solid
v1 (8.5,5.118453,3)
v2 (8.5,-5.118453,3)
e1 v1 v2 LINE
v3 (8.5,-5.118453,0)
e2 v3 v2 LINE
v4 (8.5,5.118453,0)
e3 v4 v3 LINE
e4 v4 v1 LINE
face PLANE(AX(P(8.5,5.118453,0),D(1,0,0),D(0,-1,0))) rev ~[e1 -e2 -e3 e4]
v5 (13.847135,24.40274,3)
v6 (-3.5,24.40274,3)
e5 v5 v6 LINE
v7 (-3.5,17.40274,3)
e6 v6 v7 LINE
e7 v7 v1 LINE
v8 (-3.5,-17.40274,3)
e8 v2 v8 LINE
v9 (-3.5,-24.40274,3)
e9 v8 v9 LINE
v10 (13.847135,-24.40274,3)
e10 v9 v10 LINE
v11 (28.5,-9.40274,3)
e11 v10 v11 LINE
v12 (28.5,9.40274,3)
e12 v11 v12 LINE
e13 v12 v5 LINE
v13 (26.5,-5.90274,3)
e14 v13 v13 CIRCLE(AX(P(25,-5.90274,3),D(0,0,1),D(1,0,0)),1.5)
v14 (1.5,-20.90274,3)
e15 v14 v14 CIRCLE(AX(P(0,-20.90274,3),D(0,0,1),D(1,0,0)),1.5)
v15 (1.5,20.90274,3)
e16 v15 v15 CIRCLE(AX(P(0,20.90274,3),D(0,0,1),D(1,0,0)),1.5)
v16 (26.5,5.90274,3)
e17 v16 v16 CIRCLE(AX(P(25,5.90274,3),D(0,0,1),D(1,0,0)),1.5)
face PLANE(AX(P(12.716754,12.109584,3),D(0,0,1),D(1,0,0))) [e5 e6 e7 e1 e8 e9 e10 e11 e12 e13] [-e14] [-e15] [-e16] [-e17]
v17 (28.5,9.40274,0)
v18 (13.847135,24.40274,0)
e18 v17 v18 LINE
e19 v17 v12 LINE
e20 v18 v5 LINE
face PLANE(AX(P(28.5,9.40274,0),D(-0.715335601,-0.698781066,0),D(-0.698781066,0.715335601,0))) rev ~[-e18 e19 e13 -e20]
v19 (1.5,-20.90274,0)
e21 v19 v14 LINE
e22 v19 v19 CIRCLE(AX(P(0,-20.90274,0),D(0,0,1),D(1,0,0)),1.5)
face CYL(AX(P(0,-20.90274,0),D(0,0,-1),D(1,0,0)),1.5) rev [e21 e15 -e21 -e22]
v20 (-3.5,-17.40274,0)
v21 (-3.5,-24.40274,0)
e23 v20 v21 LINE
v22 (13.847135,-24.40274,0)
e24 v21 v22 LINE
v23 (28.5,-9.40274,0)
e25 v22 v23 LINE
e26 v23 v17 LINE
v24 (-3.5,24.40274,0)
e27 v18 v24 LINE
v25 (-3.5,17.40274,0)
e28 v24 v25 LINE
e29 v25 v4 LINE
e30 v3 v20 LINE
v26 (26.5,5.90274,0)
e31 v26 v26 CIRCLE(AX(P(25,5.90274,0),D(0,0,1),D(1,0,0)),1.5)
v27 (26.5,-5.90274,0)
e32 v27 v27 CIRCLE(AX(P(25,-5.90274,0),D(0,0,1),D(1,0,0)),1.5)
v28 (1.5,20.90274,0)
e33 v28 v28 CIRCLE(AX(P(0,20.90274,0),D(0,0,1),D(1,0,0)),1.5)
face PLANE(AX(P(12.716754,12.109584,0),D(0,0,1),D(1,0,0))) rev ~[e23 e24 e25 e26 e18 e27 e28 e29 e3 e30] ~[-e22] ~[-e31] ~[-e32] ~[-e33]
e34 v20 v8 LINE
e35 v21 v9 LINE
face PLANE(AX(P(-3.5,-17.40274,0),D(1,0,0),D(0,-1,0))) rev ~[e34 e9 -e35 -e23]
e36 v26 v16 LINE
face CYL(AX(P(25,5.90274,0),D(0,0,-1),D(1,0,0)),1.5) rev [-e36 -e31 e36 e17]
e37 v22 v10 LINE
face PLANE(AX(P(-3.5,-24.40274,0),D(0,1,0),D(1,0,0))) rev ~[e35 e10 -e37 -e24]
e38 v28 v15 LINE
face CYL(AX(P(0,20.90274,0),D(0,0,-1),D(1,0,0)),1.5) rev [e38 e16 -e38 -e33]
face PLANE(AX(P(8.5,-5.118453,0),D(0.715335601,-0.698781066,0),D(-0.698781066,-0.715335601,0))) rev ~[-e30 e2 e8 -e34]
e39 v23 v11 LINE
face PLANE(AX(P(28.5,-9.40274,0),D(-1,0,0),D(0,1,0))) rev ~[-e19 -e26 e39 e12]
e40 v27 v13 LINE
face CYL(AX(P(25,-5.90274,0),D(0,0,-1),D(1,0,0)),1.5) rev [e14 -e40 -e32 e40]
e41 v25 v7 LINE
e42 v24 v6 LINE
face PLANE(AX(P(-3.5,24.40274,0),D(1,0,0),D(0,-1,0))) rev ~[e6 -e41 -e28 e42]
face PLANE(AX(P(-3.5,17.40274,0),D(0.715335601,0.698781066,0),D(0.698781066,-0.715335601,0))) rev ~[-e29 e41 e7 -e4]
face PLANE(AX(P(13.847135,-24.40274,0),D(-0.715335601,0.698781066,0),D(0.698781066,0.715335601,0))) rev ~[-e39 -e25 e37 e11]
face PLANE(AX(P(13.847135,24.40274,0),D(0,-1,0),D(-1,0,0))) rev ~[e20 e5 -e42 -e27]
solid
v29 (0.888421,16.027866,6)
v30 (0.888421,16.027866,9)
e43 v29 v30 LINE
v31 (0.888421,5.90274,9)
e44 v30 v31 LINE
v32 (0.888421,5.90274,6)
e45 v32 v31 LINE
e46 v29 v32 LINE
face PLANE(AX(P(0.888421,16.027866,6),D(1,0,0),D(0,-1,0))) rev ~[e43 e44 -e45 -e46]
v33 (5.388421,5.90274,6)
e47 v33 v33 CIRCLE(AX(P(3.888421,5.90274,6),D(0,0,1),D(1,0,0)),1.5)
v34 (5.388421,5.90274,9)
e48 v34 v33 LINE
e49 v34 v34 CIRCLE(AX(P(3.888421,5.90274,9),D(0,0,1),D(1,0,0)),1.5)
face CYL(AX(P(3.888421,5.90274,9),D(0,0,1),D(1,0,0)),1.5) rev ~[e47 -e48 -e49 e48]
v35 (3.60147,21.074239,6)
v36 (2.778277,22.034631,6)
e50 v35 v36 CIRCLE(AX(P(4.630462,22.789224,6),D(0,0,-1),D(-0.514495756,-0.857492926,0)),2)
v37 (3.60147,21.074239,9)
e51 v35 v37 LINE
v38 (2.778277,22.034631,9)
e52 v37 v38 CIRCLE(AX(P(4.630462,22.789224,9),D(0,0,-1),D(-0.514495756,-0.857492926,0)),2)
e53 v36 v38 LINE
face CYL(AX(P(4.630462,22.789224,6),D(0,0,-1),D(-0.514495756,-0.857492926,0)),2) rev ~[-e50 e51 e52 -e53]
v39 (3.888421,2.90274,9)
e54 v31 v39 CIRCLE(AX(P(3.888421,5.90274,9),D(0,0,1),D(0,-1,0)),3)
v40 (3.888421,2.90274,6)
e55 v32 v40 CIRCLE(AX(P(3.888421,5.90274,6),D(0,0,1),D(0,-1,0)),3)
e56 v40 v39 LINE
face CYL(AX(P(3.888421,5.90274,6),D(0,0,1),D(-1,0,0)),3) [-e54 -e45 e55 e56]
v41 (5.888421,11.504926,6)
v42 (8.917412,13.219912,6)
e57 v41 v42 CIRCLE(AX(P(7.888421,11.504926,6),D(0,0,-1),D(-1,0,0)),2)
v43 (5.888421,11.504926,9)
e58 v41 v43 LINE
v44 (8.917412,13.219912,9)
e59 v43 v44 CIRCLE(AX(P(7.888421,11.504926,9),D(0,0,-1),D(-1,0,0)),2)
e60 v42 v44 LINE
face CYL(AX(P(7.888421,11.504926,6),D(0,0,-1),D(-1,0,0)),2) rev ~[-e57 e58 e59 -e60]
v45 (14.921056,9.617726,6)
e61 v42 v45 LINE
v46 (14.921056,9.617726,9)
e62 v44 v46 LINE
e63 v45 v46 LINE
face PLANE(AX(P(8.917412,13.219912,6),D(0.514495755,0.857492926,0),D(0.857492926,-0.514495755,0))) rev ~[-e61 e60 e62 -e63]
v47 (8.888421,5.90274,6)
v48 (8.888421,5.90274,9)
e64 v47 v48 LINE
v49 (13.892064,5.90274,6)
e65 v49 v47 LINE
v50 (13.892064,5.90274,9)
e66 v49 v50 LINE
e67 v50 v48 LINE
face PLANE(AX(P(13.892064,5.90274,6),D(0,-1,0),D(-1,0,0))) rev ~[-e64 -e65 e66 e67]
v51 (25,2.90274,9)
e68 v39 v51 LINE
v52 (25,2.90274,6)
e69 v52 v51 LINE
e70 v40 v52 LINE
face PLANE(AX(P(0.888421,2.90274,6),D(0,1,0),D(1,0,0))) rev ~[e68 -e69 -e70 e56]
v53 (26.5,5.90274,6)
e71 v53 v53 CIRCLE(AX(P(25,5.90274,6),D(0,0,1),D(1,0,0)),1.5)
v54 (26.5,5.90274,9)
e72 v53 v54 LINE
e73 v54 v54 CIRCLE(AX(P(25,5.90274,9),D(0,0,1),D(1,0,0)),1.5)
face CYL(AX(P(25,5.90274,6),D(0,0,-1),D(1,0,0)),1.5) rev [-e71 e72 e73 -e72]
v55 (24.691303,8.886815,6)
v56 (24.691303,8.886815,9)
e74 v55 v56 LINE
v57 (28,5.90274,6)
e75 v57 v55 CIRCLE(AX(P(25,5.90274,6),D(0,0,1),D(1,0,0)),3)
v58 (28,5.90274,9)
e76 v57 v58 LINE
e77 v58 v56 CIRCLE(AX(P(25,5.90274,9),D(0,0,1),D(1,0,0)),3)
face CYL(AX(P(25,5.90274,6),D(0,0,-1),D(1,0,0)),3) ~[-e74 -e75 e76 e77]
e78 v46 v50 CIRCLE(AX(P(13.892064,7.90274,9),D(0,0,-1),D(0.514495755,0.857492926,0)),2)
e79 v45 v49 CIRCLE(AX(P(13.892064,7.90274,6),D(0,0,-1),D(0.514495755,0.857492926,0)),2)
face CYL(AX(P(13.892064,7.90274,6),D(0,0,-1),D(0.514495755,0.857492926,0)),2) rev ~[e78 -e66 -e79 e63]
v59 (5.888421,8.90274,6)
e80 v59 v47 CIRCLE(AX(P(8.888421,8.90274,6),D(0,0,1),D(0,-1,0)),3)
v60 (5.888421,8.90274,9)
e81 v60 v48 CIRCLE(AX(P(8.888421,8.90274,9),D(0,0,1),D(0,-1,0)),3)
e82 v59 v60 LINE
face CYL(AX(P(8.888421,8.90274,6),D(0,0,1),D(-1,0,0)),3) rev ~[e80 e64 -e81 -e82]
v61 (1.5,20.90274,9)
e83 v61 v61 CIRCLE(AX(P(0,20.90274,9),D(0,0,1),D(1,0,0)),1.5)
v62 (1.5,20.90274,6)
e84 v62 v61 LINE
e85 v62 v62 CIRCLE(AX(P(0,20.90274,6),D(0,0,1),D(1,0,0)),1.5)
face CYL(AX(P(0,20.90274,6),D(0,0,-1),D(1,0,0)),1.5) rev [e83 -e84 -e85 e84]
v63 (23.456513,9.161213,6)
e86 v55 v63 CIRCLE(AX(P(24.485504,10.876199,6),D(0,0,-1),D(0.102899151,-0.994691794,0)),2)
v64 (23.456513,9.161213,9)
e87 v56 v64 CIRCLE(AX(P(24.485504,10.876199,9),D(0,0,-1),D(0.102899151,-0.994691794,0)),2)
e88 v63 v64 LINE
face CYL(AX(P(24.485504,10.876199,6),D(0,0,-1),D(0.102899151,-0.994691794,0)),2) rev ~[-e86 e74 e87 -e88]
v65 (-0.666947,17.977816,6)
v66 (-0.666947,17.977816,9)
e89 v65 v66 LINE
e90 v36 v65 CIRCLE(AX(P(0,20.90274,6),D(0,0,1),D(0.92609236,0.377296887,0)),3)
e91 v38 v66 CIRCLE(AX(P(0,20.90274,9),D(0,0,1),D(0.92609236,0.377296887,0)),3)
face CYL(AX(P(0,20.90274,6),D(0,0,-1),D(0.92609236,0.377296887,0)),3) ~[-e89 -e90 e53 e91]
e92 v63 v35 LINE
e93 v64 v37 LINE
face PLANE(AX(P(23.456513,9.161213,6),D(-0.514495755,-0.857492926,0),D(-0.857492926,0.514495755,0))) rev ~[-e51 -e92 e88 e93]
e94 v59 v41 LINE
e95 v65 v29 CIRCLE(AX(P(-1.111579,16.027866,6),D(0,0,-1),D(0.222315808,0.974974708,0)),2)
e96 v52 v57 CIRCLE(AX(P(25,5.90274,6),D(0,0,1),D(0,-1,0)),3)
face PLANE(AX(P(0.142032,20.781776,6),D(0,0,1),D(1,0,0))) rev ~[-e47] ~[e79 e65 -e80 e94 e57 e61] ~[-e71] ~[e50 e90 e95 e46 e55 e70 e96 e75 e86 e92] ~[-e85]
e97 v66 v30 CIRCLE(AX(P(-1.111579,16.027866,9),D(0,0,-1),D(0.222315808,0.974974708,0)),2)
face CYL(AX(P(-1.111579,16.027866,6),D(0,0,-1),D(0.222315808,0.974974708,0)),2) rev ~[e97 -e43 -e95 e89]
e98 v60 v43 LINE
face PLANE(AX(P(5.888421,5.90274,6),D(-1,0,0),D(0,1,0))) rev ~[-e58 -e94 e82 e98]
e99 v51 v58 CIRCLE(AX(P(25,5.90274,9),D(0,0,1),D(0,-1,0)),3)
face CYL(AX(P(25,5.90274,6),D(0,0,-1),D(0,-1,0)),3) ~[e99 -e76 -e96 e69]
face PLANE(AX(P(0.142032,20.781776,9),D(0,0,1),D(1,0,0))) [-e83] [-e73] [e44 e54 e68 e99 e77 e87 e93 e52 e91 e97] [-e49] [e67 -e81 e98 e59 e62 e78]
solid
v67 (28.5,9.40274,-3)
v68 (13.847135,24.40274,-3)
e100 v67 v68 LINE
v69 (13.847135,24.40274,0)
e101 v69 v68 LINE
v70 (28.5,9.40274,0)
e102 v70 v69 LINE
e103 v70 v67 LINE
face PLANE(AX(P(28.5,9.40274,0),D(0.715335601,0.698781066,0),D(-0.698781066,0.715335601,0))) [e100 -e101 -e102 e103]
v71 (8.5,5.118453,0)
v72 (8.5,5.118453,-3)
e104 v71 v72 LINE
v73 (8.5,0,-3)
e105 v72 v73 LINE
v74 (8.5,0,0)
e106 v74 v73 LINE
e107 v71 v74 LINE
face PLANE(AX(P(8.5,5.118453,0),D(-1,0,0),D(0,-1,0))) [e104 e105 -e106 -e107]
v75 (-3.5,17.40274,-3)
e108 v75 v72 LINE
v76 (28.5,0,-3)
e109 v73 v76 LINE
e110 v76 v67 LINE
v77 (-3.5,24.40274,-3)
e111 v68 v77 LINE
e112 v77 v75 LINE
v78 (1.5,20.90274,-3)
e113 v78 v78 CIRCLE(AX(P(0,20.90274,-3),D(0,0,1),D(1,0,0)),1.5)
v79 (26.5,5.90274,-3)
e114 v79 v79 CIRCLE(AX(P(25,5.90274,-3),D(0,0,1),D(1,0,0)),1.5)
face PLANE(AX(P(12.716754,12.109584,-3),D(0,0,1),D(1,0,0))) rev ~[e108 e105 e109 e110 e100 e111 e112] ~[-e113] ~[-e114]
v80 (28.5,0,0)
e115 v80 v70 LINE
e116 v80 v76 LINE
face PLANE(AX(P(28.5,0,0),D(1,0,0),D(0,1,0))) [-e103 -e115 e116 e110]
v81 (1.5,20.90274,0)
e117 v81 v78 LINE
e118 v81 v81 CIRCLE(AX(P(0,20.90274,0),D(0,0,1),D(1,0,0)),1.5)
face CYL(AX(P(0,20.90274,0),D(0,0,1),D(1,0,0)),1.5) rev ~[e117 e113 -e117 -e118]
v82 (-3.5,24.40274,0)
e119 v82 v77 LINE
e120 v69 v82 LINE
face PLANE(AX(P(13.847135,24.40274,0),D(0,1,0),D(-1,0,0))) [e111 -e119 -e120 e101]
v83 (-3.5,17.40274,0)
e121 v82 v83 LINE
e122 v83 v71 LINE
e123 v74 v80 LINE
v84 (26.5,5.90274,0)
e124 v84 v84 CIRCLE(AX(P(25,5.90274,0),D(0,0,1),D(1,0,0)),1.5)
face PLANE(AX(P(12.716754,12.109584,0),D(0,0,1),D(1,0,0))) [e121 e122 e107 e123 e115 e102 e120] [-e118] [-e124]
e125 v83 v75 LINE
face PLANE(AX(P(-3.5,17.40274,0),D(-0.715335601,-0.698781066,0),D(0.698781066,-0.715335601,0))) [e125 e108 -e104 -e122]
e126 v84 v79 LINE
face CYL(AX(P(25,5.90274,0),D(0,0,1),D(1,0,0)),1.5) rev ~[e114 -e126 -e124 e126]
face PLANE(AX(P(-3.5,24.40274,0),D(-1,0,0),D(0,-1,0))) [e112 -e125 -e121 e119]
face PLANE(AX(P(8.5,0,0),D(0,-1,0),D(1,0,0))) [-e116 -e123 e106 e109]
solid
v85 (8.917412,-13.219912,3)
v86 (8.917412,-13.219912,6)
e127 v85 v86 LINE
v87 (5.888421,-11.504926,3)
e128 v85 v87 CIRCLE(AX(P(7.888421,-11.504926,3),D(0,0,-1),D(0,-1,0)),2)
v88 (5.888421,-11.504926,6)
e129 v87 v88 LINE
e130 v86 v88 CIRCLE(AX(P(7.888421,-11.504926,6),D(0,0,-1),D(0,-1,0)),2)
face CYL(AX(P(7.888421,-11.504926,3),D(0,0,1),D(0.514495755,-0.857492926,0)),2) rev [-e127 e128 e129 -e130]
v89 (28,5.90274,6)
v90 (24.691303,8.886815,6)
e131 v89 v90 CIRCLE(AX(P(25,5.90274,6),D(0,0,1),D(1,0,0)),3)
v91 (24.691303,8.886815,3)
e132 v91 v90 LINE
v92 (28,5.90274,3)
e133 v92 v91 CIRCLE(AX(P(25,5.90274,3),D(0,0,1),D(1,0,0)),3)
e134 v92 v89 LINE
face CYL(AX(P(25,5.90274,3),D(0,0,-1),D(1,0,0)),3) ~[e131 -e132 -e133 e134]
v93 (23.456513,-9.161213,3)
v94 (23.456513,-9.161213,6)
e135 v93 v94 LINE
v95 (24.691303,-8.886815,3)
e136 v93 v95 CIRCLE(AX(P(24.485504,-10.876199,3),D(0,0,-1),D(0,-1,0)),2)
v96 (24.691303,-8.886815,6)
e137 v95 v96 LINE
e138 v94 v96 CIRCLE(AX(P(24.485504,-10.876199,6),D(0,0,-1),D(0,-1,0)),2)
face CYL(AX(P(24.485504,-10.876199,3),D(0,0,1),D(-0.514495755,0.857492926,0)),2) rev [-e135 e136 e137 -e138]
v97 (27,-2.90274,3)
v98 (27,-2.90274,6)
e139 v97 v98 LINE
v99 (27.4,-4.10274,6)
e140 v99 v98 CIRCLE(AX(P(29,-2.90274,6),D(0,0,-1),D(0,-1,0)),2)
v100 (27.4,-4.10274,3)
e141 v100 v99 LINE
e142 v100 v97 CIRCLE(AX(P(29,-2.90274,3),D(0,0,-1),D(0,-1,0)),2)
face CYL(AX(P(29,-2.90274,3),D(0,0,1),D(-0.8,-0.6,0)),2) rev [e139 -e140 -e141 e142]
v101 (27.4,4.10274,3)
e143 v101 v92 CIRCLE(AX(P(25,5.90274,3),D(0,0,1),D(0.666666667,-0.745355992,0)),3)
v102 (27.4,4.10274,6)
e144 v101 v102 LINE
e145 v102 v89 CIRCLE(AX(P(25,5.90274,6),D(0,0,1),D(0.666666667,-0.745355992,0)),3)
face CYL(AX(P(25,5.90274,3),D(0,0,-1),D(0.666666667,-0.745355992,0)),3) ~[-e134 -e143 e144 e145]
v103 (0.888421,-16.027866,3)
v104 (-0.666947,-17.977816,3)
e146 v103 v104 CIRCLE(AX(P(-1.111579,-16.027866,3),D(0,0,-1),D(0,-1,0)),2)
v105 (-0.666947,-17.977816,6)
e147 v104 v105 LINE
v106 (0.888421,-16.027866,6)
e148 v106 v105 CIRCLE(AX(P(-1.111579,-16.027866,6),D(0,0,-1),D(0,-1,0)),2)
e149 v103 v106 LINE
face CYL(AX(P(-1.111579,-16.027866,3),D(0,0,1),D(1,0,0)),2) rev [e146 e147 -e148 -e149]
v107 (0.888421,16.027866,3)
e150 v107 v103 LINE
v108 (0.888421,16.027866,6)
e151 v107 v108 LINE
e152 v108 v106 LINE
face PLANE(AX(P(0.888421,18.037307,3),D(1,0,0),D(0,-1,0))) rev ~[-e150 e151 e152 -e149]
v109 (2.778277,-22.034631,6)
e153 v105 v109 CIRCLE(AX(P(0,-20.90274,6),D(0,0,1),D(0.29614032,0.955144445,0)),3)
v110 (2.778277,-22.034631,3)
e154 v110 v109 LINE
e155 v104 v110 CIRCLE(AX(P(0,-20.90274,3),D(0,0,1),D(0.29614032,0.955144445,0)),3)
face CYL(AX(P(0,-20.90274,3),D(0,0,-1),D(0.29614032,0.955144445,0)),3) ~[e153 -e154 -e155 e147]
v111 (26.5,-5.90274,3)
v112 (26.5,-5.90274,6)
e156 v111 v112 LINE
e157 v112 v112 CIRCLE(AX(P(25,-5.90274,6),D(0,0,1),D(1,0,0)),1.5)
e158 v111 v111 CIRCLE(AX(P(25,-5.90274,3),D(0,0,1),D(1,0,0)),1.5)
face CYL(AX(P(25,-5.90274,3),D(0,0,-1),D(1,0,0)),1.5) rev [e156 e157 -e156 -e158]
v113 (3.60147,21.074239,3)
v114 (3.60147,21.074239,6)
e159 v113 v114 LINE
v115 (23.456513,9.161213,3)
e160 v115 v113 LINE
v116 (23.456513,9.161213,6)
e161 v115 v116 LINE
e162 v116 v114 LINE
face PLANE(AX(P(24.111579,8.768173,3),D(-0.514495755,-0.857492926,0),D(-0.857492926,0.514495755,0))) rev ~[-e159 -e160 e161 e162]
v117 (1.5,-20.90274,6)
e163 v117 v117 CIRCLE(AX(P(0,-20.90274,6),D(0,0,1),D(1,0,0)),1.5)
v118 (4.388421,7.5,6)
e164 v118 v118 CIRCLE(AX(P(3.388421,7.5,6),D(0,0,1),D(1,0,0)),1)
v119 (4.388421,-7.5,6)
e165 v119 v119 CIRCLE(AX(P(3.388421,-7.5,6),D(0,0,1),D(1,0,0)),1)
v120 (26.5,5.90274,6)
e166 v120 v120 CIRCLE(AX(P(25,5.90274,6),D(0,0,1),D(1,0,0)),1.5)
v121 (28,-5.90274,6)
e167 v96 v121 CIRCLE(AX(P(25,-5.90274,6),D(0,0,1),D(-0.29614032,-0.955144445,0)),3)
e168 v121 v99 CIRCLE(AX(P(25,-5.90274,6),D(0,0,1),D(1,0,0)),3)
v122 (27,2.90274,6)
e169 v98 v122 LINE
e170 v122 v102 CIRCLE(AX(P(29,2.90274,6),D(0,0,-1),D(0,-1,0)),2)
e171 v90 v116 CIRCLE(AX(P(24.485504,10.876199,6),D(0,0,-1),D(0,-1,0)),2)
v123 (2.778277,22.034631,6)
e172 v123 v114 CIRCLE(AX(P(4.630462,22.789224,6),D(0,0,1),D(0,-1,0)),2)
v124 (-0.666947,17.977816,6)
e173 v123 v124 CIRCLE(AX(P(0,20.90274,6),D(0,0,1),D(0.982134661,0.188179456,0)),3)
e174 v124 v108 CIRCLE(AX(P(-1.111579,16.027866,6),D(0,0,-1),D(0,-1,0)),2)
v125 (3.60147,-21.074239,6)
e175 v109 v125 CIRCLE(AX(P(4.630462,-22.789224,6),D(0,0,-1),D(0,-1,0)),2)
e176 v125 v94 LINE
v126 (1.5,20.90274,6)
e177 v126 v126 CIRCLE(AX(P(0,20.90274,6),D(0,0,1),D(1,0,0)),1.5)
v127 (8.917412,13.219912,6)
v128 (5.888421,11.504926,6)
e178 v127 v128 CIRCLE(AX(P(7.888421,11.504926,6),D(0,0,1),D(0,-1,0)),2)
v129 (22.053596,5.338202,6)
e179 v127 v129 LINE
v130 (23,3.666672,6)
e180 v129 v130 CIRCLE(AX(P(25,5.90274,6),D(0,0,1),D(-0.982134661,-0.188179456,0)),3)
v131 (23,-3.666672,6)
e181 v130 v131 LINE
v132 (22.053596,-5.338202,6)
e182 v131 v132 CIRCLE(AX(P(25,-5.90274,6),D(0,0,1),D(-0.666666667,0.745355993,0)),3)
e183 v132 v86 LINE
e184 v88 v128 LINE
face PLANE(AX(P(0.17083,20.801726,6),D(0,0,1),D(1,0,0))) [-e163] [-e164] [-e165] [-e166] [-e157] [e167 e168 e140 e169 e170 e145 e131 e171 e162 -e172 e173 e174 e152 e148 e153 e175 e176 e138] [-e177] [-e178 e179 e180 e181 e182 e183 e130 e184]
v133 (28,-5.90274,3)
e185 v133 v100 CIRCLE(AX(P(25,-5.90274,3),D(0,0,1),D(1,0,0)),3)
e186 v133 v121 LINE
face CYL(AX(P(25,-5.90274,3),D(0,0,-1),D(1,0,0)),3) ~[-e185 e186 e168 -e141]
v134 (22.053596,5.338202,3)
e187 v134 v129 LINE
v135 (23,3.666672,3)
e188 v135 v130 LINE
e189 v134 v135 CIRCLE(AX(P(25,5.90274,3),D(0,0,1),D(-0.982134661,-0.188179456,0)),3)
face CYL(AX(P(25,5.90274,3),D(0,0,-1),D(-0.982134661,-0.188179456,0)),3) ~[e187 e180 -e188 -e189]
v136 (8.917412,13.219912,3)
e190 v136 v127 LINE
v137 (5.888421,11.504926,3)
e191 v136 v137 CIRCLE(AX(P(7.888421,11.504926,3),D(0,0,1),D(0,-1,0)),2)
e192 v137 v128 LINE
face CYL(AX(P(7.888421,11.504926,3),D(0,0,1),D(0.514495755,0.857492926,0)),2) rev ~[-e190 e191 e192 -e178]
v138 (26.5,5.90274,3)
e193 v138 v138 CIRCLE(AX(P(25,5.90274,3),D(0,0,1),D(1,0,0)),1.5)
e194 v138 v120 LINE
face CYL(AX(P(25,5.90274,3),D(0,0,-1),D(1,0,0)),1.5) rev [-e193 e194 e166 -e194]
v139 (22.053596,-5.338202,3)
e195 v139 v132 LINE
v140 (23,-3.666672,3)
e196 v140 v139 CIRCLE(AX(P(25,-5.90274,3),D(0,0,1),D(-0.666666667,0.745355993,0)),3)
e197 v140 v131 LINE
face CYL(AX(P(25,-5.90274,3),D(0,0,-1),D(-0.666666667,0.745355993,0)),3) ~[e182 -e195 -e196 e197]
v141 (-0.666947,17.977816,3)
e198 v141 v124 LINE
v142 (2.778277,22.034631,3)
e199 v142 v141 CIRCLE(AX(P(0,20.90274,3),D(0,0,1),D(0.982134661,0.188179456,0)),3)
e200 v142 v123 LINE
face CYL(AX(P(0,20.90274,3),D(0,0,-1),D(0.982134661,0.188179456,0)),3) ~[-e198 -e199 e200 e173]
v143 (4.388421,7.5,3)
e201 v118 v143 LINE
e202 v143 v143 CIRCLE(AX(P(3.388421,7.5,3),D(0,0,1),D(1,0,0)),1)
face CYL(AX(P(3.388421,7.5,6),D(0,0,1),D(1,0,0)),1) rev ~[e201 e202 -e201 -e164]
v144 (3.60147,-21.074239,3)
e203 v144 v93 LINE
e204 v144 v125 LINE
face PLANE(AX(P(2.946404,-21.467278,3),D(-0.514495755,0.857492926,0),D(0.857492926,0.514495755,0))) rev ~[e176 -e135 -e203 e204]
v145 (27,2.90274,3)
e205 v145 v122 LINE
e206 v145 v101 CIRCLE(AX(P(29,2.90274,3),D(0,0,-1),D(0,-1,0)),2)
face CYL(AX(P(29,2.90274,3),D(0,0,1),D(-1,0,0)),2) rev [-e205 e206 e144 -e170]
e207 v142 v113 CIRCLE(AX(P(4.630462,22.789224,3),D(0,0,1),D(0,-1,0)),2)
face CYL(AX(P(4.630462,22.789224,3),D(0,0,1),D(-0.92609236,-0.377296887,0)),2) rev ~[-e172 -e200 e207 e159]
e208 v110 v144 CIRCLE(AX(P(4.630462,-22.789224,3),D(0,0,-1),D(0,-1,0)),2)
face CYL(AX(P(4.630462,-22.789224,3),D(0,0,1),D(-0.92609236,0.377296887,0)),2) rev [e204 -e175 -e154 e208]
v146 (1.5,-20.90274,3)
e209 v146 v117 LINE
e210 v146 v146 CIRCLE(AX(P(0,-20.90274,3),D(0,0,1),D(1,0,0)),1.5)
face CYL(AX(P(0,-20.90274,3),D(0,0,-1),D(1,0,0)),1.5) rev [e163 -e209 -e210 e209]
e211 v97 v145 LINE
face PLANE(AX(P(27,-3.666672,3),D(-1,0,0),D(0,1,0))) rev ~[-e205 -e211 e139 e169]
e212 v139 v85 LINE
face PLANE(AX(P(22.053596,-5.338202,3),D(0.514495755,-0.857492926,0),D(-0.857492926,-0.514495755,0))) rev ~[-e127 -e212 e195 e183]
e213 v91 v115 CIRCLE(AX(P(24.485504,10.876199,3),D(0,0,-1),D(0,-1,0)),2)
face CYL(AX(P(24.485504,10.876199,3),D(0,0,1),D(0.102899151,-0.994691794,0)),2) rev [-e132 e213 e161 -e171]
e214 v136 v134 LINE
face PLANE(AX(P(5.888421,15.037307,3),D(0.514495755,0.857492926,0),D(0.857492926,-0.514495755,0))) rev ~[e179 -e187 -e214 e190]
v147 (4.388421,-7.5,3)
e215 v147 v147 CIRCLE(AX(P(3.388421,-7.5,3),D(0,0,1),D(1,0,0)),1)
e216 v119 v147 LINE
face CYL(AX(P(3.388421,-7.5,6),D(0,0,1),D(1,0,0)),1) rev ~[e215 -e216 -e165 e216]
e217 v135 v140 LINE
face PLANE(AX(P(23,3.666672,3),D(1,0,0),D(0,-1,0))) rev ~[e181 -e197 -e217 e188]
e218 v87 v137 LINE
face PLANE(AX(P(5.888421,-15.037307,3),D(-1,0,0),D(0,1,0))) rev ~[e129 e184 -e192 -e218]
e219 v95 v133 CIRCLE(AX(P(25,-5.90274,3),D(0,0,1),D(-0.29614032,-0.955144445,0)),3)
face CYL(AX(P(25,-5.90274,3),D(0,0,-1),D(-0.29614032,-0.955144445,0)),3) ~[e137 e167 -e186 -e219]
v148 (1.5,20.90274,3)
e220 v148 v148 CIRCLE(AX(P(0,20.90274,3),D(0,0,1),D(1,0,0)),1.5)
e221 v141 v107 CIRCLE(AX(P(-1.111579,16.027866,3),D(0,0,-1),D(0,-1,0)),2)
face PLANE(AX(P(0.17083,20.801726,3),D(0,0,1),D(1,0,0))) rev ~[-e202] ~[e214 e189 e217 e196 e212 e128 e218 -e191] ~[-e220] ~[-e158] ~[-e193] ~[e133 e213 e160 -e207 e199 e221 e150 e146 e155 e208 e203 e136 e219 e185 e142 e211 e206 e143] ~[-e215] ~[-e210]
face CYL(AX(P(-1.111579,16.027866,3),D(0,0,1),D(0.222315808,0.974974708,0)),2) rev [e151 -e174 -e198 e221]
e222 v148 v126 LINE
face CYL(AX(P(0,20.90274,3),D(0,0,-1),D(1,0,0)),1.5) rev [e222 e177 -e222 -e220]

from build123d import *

# Parameters (mm, degrees)
F0_R      = 1.5
F1_DEPTH  = 3
F2_DEPTH  = 3
F3_R      = 1.5
F4_DEPTH  = 3
F5_R      = 2
F6_R      = 1.5
F7_DEPTH  = 3
F8_R      = 3
F9_R      = 1
F10_DEPTH = 3
F11_R     = 1.5
F12_DEPTH = 3


with BuildPart() as f1:
    # F0 (on Top) → F1 (new body)
    with BuildSketch(Plane.XY):
        Polygon((-3.5, 17.40274), (8.5, 5.1184529412), (8.5, 0), (28.5, 0), (28.5, 9.40274), (13.8471349914, 24.40274), (-3.5, 24.40274), align=None)
        with Locations((0, 20.90274)):
            Circle(F0_R, mode=Mode.SUBTRACT)
        with Locations((25, 5.90274)):
            Circle(F0_R, mode=Mode.SUBTRACT)
        Polygon((28.5, 0), (8.5, 0), (8.5, -5.1184529412), (-3.5, -17.40274), (-3.5, -24.40274), (13.8471349914, -24.40274), (28.5, -9.40274), align=None)
        with Locations((0, -20.90274)):
            Circle(F0_R, mode=Mode.SUBTRACT)
        with Locations((25, -5.90274)):
            Circle(F0_R, mode=Mode.SUBTRACT)
    extrude(amount=F1_DEPTH)


with BuildPart() as f2:
    # F0 (on Top) → F2 (new body)
    with BuildSketch(Plane.XY):
        Polygon((-3.5, 17.40274), (8.5, 5.1184529412), (8.5, 0), (28.5, 0), (28.5, 9.40274), (13.8471349914, 24.40274), (-3.5, 24.40274), align=None)
        with Locations((0, 20.90274)):
            Circle(F0_R, mode=Mode.SUBTRACT)
        with Locations((25, 5.90274)):
            Circle(F0_R, mode=Mode.SUBTRACT)
    extrude(amount=-F2_DEPTH)


with BuildPart() as f4:
    # F3 (on face) → F4 (new body)
    with BuildSketch(Plane.XY.offset(3)):
        with BuildLine():
            ThreePointArc((0.8884209613, 18.0373066653), (2.415084148, 19.1230297545), (3, 20.90274))
            ThreePointArc((3, 20.90274), (2.9865709391, 21.1862784022), (2.946403983, 21.4672783682))
            ThreePointArc((2.946403983, 21.4672783682), (-2.5724787771, 22.4462272663), (0.8884209613, 18.0373066653))
        make_face()
        with Locations((0, 20.90274)):
            Circle(F3_R, mode=Mode.SUBTRACT)
        with BuildLine():
            ThreePointArc((3, -20.90274), (2.415084148, -19.1230297545), (0.8884209613, -18.0373066653))
            ThreePointArc((0.8884209613, -18.0373066653), (-2.5724787771, -22.4462272663), (2.946403983, -21.4672783682))
            ThreePointArc((2.946403983, -21.4672783682), (2.9865709391, -21.1862784022), (3, -20.90274))
        make_face()
        with Locations((0, -20.90274)):
            Circle(F3_R, mode=Mode.SUBTRACT)
        with BuildLine():
            Line((27, -3.6666720225), (27, 3.6666720225))
            ThreePointArc((27, 3.6666720225), (25, 2.90274), (23, 3.6666720225))
            Line((23, 3.6666720225), (23, -3.6666720225))
            ThreePointArc((23, -3.6666720225), (25, -2.90274), (27, -3.6666720225))
        make_face()
        with BuildLine():
            ThreePointArc((28, 5.90274), (26.7797102455, 8.317824148), (24.1115790387, 8.7681733347))
            ThreePointArc((24.1115790387, 8.7681733347), (22.4275212229, 7.4462272663), (22.053596017, 5.3382016318))
            ThreePointArc((22.053596017, 5.3382016318), (22.3894002797, 4.424643555), (23, 3.6666720225))
            ThreePointArc((23, 3.6666720225), (25, 2.90274), (27, 3.6666720225))
            ThreePointArc((27, 3.6666720225), (27.7386127875, 4.6779951286), (28, 5.90274))
        make_face()
        with Locations((25, 5.90274)):
            Circle(F3_R, mode=Mode.SUBTRACT)
        with BuildLine():
            ThreePointArc((2.946403983, 21.4672783682), (2.9865709391, 21.1862784022), (3, 20.90274))
            ThreePointArc((3, 20.90274), (2.415084148, 19.1230297545), (0.8884209613, 18.0373066653))
            Line((0.8884209613, 18.0373066653), (5.8884209613, 15.0373066653))
            Line((5.8884209613, 15.0373066653), (22.053596017, 5.3382016318))
            ThreePointArc((22.053596017, 5.3382016318), (22.4275212229, 7.4462272663), (24.1115790387, 8.7681733347))
            Line((24.1115790387, 8.7681733347), (2.946403983, 21.4672783682))
        make_face()
        with BuildLine():
            ThreePointArc((28, -5.90274), (27.7386127875, -4.6779951286), (27, -3.6666720225))
            ThreePointArc((27, -3.6666720225), (25, -2.90274), (23, -3.6666720225))
            ThreePointArc((23, -3.6666720225), (22.3894002797, -4.424643555), (22.053596017, -5.3382016318))
            ThreePointArc((22.053596017, -5.3382016318), (22.4275212229, -7.4462272663), (24.1115790387, -8.7681733347))
            ThreePointArc((24.1115790387, -8.7681733347), (26.7797102455, -8.317824148), (28, -5.90274))
        make_face()
        with Locations((25, -5.90274)):
            Circle(F3_R, mode=Mode.SUBTRACT)
        with BuildLine():
            Line((5.8884209613, -15.0373066653), (0.8884209613, -18.0373066653))
            ThreePointArc((0.8884209613, -18.0373066653), (2.415084148, -19.1230297545), (3, -20.90274))
            ThreePointArc((3, -20.90274), (2.9865709391, -21.1862784022), (2.946403983, -21.4672783682))
            Line((2.946403983, -21.4672783682), (24.1115790387, -8.7681733347))
            ThreePointArc((24.1115790387, -8.7681733347), (22.4275212229, -7.4462272663), (22.053596017, -5.3382016318))
            Line((22.053596017, -5.3382016318), (5.8884209613, -15.0373066653))
        make_face()
        Polygon((5.8884209613, 15.0373066653), (0.8884209613, 18.0373066653), (0.8884209613, 12.9103547647), (5.8884209613, 7.7919018236), align=None)
        Polygon((5.8884209613, -7.7919018236), (0.8884209613, -12.9103547647), (0.8884209613, -18.0373066653), (5.8884209613, -15.0373066653), align=None)
        Polygon((5.8884209613, 7.7919018236), (0.8884209613, 12.9103547647), (0.8884209613, -12.9103547647), (5.8884209613, -7.7919018236), align=None)
    extrude(amount=F4_DEPTH)

    # F5
    f5_edges = [f4.edges().sort_by_distance(p)[0] for p in [
        (0.888421, 18.037307, 4.5),
        (0.888421, -18.037307, 4.5),
        (2.946404, -21.467278, 4.5),
        (24.111579, -8.768173, 4.5),
        (27, 3.666672, 4.5),
        (27, -3.666672, 4.5),
        (24.111579, 8.768173, 4.5),
        (5.888421, -15.037307, 4.5),
        (5.888421, 15.037307, 4.5),
        (2.946404, 21.467278, 4.5),
    ]]
    fillet(f5_edges, radius=F5_R)

    # F9 (on face) → F10 (cut, through all)
    with BuildSketch(Plane.XY.offset(6)):
        with Locations((3.3884209613, 7.5)):
            Circle(F9_R)
        with Locations((3.3884209613, -7.5)):
            Circle(F9_R)
    extrude(amount=-F10_DEPTH, mode=Mode.SUBTRACT)


with BuildPart() as f7:
    # F6 (on face) → F7 (new body)
    with BuildSketch(Plane.XY.offset(6)):
        with BuildLine():
            ThreePointArc((0.8884209613, 18.0373066653), (2.415084148, 19.1230297545), (3, 20.90274))
            ThreePointArc((3, 20.90274), (2.9865709391, 21.1862784022), (2.946403983, 21.4672783682))
            ThreePointArc((2.946403983, 21.4672783682), (2.8763632372, 21.7551099475), (2.7782770793, 22.0346306619))
            ThreePointArc((2.7782770793, 22.0346306619), (-2.2866711137, 22.8446810953), (-0.6669474232, 17.9778158754))
            ThreePointArc((-0.6669474232, 17.9778158754), (0.1146622018, 17.9049320376), (0.8884209613, 18.0373066653))
        make_face()
        with Locations((0, 20.90274)):
            Circle(F6_R, mode=Mode.SUBTRACT)
        with BuildLine():
            ThreePointArc((2.946403983, 21.4672783682), (2.9865709391, 21.1862784022), (3, 20.90274))
            ThreePointArc((3, 20.90274), (2.415084148, 19.1230297545), (0.8884209613, 18.0373066653))
            Line((0.8884209613, 18.0373066653), (5.8884209613, 15.0373066653))
            Line((5.8884209613, 15.0373066653), (8.9174124721, 13.2199117588))
            Line((8.9174124721, 13.2199117588), (14.9210556511, 9.6177258514))
            ThreePointArc((14.9210556511, 9.6177258514), (15.8194939966, 7.3688728362), (13.8920641402, 5.90274))
            Line((13.8920641402, 5.90274), (5.8884209613, 5.90274))
            Line((5.8884209613, 5.90274), (5.8884209613, 2.90274))
            Line((5.8884209613, 2.90274), (25, 2.90274))
            ThreePointArc((25, 2.90274), (22.0338324386, 5.453462805), (24.1115790387, 8.7681733347))
            Line((24.1115790387, 8.7681733347), (23.4565127337, 9.1612131177))
            Line((23.4565127337, 9.1612131177), (3.601470288, 21.0742385851))
            Line((3.601470288, 21.0742385851), (2.946403983, 21.4672783682))
        make_face()
        with BuildLine():
            ThreePointArc((2.7782770793, 22.0346306619), (2.8763632372, 21.7551099475), (2.946403983, 21.4672783682))
            Line((2.946403983, 21.4672783682), (3.601470288, 21.0742385851))
            ThreePointArc((3.601470288, 21.0742385851), (3.1119485941, 21.4876416897), (2.7782770793, 22.0346306619))
        make_face()
        with BuildLine():
            Line((0.8884209613, 16.027866459), (0.8884209613, 18.0373066653))
            ThreePointArc((0.8884209613, 18.0373066653), (0.1146622018, 17.9049320376), (-0.6669474232, 17.9778158754))
            ThreePointArc((-0.6669474232, 17.9778158754), (0.4519527376, 17.2750105503), (0.8884209613, 16.027866459))
        make_face()
        Polygon((5.8884209613, 15.0373066653), (0.8884209613, 18.0373066653), (0.8884209613, 16.027866459), (0.8884209613, 2.90274), (5.8884209613, 2.90274), (5.8884209613, 5.90274), (5.8884209613, 11.5049259074), align=None)
        with BuildLine():
            ThreePointArc((24.6913025467, 8.8868153815), (24.0516433289, 8.9238248488), (23.4565127337, 9.1612131177))
            Line((23.4565127337, 9.1612131177), (24.1115790387, 8.7681733347))
            ThreePointArc((24.1115790387, 8.7681733347), (24.3985084303, 8.8418228317), (24.6913025467, 8.8868153815))
        make_face()
        with BuildLine():
            ThreePointArc((24.6913025467, 8.8868153815), (24.3985084303, 8.8418228317), (24.1115790387, 8.7681733347))
            ThreePointArc((24.1115790387, 8.7681733347), (22.0338324386, 5.453462805), (25, 2.90274))
            ThreePointArc((25, 2.90274), (27.1213203436, 3.7814196564), (28, 5.90274))
            ThreePointArc((28, 5.90274), (27.0092172158, 8.1305295277), (24.6913025467, 8.8868153815))
        make_face()
        with Locations((25, 5.90274)):
            Circle(F6_R, mode=Mode.SUBTRACT)
        with BuildLine():
            Line((8.9174124721, 13.2199117588), (5.8884209613, 15.0373066653))
            Line((5.8884209613, 15.0373066653), (5.8884209613, 11.5049259074))
            ThreePointArc((5.8884209613, 11.5049259074), (6.9030233313, 13.2453257209), (8.9174124721, 13.2199117588))
        make_face()
    extrude(amount=F7_DEPTH)

    # F8
    f8_edges = [f7.edges().sort_by_distance(p)[0] for p in [
        (5.888421, 5.90274, 7.5),
        (0.888421, 2.90274, 7.5),
    ]]
    fillet(f8_edges, radius=F8_R)

    # F11 (on face) → F12 (cut, through all)
    with BuildSketch(Plane.XY.offset(9)):
        with Locations((3.8884209613, 5.90274)):
            Circle(F11_R)
    extrude(amount=-F12_DEPTH, mode=Mode.SUBTRACT)


solid = Compound([f1.part, f2.part, f4.part, f7.part])
